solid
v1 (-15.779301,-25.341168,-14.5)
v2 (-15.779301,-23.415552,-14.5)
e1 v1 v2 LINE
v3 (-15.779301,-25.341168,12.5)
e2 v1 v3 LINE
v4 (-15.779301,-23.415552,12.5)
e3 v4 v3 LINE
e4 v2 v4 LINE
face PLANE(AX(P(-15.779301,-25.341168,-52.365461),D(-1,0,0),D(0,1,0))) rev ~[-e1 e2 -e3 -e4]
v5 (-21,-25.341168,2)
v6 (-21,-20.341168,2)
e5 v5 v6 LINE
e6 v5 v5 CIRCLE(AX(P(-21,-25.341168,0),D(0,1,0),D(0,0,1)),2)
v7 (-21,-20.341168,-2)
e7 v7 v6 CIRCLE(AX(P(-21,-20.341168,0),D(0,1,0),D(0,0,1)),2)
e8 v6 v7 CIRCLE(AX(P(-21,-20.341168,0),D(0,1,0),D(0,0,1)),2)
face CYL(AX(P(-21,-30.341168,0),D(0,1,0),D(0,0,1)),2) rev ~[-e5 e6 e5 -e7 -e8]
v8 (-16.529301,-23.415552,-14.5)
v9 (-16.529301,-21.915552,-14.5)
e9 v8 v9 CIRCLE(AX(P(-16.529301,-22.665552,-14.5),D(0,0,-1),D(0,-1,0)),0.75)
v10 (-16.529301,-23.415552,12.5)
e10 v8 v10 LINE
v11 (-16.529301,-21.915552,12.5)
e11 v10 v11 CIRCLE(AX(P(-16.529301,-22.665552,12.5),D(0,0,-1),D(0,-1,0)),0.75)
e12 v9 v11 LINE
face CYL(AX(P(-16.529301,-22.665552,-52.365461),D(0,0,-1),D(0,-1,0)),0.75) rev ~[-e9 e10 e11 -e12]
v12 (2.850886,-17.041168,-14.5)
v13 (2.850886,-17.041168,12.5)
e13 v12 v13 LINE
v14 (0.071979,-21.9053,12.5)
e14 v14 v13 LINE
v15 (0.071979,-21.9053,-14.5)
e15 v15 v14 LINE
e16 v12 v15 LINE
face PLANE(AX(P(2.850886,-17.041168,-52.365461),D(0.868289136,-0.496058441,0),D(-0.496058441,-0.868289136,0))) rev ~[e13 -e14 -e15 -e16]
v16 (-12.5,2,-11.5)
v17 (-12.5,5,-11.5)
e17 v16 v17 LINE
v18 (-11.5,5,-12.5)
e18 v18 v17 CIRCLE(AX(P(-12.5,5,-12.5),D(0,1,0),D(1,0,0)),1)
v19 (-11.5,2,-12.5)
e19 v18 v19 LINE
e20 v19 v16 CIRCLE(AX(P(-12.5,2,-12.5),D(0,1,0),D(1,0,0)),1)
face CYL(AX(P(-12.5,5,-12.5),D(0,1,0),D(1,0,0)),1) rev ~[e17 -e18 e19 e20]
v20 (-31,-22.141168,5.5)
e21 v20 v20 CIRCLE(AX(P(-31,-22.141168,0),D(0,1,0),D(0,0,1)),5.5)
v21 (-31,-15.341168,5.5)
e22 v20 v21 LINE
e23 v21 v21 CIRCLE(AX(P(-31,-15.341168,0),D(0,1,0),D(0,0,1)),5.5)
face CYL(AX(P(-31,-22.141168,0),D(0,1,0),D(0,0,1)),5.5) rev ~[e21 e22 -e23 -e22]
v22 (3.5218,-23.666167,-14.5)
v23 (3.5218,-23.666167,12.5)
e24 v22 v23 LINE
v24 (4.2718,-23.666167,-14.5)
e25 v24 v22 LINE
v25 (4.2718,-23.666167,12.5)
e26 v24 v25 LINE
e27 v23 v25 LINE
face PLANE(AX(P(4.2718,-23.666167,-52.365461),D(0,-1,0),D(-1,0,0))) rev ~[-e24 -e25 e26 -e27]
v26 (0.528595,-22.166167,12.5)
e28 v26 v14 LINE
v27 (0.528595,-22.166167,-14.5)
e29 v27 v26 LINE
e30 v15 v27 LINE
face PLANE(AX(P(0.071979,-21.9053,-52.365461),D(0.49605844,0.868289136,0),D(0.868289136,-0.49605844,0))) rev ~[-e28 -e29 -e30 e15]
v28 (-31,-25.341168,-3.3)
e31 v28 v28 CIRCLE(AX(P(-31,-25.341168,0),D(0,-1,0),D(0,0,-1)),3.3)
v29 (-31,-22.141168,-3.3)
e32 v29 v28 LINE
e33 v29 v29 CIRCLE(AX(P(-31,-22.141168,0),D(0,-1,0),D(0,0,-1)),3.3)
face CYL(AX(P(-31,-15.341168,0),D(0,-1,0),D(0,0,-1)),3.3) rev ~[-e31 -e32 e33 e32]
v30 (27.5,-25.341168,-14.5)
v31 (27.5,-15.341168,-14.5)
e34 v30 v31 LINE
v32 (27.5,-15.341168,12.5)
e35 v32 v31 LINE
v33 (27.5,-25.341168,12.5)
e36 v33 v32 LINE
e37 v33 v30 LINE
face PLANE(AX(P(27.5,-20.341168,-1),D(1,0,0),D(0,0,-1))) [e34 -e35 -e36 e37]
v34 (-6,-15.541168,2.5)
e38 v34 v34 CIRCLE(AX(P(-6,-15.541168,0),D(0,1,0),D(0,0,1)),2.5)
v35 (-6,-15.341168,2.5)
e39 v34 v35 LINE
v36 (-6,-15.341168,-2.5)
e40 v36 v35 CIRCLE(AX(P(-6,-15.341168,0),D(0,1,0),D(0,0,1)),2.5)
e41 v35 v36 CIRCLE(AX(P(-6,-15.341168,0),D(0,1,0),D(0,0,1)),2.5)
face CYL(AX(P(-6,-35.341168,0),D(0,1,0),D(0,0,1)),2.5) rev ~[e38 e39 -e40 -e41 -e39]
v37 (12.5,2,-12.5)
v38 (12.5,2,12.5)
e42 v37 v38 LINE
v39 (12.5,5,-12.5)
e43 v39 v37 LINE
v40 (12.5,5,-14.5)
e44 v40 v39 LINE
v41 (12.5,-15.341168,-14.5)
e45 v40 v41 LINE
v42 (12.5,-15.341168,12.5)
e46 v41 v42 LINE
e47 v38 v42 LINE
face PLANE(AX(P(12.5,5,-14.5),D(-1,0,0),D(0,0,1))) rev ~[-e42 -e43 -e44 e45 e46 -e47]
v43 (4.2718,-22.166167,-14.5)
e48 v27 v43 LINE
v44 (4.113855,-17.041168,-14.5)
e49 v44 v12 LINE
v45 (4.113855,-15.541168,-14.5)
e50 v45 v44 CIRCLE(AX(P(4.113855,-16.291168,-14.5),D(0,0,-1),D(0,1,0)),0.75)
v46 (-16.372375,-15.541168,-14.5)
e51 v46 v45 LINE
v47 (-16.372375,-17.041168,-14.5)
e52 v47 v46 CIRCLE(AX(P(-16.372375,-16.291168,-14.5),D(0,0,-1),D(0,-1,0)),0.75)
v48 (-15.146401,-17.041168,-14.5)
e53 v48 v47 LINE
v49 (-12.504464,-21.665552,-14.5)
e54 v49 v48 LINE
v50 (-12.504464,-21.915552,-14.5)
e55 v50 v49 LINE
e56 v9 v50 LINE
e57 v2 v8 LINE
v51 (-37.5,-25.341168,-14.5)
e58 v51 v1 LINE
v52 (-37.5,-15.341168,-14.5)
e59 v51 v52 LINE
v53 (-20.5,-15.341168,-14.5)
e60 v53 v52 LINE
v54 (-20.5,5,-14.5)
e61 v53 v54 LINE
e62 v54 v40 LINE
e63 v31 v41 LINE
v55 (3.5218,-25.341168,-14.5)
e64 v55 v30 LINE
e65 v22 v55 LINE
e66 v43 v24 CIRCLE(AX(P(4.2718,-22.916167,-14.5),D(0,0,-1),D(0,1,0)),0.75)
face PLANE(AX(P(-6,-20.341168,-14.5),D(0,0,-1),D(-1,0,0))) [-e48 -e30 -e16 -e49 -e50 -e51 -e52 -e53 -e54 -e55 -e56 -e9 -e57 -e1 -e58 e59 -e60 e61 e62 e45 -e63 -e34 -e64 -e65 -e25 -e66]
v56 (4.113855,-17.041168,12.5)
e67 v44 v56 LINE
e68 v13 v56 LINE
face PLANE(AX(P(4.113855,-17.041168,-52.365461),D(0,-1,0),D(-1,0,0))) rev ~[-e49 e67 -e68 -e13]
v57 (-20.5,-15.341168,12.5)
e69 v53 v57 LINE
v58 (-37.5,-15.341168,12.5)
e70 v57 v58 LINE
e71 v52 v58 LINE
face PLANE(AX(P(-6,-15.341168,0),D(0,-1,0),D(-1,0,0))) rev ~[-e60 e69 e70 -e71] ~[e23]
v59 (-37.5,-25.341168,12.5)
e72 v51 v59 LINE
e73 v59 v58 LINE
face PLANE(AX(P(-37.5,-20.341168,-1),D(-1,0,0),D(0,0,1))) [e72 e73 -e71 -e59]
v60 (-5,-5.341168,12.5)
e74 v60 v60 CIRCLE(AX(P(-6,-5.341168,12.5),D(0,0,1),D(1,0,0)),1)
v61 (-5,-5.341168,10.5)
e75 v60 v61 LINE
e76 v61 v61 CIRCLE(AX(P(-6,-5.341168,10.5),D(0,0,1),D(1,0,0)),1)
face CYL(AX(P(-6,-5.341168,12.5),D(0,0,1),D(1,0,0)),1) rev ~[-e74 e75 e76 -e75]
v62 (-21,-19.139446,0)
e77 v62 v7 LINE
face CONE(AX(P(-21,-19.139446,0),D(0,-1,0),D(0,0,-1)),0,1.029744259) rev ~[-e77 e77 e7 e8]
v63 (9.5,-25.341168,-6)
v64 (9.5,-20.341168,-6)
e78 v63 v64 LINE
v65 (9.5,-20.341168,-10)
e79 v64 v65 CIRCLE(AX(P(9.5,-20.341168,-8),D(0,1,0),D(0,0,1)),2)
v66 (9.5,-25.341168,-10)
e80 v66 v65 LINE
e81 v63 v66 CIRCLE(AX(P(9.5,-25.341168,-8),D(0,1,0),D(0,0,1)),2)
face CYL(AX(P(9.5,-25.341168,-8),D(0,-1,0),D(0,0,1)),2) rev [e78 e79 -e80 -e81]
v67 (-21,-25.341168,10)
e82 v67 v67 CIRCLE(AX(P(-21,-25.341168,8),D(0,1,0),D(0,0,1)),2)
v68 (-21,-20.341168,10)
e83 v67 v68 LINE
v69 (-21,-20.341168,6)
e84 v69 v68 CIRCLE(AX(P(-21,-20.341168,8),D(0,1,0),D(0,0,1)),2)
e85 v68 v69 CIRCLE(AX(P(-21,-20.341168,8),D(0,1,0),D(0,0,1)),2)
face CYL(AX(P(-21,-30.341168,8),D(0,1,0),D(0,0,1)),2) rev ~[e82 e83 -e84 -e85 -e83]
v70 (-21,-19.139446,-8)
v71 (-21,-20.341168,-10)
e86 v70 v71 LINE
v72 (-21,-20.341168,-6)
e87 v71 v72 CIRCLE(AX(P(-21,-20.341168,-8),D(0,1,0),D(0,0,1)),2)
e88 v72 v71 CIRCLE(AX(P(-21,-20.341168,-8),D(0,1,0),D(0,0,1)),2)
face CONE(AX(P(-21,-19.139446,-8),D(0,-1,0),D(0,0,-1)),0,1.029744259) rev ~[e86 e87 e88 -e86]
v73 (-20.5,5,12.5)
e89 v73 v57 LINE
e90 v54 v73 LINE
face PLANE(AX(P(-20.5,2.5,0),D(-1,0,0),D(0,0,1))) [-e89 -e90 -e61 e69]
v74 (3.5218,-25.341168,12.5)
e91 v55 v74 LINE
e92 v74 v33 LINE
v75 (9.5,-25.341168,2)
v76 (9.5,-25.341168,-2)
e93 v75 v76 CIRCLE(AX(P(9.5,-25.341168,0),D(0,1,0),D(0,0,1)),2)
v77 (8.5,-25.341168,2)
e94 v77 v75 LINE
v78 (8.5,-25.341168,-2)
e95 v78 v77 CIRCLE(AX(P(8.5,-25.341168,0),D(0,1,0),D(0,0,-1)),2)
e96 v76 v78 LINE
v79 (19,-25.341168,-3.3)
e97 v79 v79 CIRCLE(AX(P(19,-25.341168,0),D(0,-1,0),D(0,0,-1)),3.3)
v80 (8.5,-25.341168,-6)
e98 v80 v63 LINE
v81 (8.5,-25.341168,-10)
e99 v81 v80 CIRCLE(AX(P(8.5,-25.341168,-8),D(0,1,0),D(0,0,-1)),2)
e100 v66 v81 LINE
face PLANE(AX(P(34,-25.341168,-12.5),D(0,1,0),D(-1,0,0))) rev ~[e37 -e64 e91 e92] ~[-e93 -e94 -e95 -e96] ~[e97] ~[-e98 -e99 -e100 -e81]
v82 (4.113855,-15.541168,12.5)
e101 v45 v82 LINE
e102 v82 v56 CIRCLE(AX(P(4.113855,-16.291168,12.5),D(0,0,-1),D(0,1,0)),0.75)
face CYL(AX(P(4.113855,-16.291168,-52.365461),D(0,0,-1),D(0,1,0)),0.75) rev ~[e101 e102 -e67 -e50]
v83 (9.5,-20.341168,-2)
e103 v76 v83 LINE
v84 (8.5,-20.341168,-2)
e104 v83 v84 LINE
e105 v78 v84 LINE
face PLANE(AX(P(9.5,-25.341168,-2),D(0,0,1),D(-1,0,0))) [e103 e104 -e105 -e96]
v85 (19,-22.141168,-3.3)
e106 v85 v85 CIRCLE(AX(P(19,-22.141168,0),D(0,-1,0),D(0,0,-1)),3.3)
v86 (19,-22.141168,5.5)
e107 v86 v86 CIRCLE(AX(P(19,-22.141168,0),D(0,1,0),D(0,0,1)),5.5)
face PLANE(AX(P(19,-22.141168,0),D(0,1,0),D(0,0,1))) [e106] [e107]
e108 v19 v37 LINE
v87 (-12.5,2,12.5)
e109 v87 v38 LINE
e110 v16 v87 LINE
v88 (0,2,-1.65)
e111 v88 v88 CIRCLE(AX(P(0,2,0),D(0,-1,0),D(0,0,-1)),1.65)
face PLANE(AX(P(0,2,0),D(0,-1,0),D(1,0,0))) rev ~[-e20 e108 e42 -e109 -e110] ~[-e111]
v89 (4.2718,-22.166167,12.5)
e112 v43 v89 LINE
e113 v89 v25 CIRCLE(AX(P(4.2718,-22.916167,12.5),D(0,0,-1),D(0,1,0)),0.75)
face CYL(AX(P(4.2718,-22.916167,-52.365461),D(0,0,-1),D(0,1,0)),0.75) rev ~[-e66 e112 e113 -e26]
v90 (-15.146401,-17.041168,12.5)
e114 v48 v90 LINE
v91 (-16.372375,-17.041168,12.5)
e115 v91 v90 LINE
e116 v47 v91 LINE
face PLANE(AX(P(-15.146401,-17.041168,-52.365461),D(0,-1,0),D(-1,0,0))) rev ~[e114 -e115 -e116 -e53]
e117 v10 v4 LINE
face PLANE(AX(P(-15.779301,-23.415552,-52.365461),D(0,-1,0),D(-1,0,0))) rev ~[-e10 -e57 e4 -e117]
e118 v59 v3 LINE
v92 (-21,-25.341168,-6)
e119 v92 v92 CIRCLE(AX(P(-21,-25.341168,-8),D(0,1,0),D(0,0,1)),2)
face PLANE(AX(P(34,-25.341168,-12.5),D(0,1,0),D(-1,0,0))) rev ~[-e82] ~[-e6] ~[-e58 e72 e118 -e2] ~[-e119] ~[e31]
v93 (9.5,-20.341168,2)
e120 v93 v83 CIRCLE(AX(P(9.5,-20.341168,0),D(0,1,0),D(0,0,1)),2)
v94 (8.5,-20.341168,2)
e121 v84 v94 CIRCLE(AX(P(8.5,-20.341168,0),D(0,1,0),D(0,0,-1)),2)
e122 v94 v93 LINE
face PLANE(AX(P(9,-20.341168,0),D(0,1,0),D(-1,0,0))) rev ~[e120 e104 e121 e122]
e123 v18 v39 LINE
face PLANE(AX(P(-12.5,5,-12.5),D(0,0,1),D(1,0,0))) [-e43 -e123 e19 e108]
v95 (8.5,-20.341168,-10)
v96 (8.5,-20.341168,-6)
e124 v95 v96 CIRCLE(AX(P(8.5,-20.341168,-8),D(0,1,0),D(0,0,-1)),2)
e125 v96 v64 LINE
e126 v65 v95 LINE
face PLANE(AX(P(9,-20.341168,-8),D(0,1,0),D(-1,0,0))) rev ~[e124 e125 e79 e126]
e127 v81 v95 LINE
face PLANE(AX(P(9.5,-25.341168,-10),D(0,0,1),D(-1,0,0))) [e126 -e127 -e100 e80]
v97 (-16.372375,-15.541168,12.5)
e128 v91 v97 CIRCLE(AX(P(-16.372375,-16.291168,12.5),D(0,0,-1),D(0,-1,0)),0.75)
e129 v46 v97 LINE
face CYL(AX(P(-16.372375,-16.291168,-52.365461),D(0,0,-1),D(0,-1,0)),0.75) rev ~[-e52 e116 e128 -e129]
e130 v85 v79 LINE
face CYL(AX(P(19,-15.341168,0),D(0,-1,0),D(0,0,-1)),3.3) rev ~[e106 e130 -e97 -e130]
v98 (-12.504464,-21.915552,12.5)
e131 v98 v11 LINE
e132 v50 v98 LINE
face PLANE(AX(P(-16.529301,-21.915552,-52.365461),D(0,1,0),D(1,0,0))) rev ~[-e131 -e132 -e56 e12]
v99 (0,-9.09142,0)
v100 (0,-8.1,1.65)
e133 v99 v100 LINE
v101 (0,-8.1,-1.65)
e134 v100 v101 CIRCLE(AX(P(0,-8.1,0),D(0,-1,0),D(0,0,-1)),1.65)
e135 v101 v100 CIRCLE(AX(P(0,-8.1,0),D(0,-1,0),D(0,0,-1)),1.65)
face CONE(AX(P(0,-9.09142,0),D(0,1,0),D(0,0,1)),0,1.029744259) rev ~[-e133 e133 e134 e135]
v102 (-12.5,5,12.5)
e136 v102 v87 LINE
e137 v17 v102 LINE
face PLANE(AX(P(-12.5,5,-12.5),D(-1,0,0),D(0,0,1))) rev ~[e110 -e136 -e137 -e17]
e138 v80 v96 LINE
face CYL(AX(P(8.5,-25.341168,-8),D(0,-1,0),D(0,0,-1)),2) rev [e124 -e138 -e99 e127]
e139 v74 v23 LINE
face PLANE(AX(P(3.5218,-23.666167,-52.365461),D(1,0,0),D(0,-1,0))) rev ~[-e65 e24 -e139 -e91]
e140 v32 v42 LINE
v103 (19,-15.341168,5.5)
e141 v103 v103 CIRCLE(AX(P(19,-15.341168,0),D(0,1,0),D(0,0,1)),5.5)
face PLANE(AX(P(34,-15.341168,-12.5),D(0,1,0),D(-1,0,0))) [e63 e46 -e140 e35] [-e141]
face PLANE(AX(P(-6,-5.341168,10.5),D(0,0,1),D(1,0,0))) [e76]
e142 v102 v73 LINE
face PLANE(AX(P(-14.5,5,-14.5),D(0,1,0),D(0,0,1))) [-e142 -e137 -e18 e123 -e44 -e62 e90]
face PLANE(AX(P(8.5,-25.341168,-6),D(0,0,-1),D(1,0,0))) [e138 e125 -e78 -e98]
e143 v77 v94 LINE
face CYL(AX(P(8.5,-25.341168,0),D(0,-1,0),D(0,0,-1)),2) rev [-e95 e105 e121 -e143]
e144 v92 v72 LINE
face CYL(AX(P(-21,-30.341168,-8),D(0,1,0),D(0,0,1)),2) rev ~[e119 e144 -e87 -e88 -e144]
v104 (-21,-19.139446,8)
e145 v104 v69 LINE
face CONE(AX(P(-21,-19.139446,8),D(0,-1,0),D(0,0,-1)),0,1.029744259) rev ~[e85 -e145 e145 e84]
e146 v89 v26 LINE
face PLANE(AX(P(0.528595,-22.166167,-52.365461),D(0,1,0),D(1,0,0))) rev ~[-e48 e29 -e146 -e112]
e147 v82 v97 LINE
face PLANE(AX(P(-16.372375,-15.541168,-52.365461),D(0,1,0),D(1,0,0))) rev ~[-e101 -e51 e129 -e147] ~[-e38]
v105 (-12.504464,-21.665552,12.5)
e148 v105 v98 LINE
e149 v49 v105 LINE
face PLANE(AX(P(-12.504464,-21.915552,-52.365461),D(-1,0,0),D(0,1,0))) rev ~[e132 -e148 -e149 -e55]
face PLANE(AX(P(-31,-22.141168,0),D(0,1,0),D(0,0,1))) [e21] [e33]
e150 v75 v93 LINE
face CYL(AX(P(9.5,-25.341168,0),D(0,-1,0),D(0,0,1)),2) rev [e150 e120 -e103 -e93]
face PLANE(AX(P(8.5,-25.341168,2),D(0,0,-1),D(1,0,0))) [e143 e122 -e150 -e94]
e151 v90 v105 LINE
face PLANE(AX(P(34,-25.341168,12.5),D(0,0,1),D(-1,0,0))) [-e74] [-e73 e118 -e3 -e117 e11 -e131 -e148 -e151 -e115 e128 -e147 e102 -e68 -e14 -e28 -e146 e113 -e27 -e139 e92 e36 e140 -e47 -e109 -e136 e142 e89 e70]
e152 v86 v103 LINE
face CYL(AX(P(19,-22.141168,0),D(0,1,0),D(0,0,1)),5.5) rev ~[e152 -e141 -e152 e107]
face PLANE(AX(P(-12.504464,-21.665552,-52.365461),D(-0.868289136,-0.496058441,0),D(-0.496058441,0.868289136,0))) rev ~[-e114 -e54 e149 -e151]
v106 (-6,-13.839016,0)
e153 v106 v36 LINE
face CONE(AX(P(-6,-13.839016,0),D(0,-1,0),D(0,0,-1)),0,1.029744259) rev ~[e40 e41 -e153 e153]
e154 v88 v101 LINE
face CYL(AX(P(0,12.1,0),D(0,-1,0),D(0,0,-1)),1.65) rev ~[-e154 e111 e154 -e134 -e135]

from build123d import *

# Parameters (mm, degrees)
SKETCH_1_W                = 29
SKETCH_1_H                = 29
EXTRUDE_1_DEPTH           = 5
SKETCH_2_W                = 25
SKETCH_2_H                = 25
CUT_EXTRUDE_1_DEPTH       = 3
SKETCH_3_W                = 35
SKETCH_3_H                = 29
EXTRUDE_756_DEPTH         = 25.341167732
HOLE_WIZARD_M4_1_D        = 3.3
HOLE_WIZARD_M4_1_DEPTH    = 10.1
HOLE_WIZARD_M4_1_TIP      = 0.991420021
SKETCH_9_R                = 1
CUT_EXTRUDE_2_DEPTH       = 3
SKETCH_11_W               = 29
SKETCH_11_H               = 5
EXTRUDE_4_DEPTH           = 6
CUT_EXTRUDE_8_DEPTH       = 40.383835
SKETCH_19_W               = 80
SKETCH_19_H               = 25
EXTRUDE_5_DEPTH           = 10
HOLE_WIZARD_1_D           = 6.6
HOLE_WIZARD_1_DEPTH       = 10.1
HOLE_WIZARD_1_CBORE_D     = 11
HOLE_WIZARD_1_CBORE_DEPTH = 6.8
HOLE_WIZARD_1_TIP         = 1.982840043
SKETCH_23_W               = 80
SKETCH_23_H               = 10
EXTRUDE_6_DEPTH           = 2
SKETCH_24_W               = 27
SKETCH_24_H               = 10
CUT_EXTRUDE_9_DEPTH       = 2
MM_1_D                    = 4
MM_1_DEPTH                = 5
MM_1_TIP                  = 1.201721238
CUT_EXTRUDE_10_DEPTH      = 5
SKETCH_28_R               = 1
CUT_EXTRUDE_11_DEPTH      = 2
HOLE_WIZARD_M6_1_D        = 5
HOLE_WIZARD_M6_1_DEPTH    = 10
HOLE_WIZARD_M6_1_TIP      = 1.502151548
CUT_EXTRUDE_12_DEPTH      = 62.837260656
CUT_EXTRUDE_12_DEPTH_BACK = 62.837260656
SKETCH_32_W               = 27
SKETCH_32_H               = 10
CUT_EXTRUDE_13_DEPTH      = 6.5
SKETCH_33_W               = 27
SKETCH_33_H               = 10
CUT_EXTRUDE_14_DEPTH      = 6.5
CUT_EXTRUDE_15_DEPTH      = 5
MM_2_D                    = 4
MM_2_DEPTH                = 5
MM_2_TIP                  = 1.201721238
MM_3_D                    = 4
MM_3_DEPTH                = 5
MM_3_TIP                  = 1.201721238


with BuildPart() as part:
    # 草图1 → 凸台-拉伸1 (new body)
    with BuildSketch(Plane(origin=(0, 0, 0), x_dir=(1, 0, 0), z_dir=(0, 1, 0))):
        Rectangle(SKETCH_1_W, SKETCH_1_H)
    extrude(amount=EXTRUDE_1_DEPTH)

    # 草图2 → 切除-拉伸1 (cut)
    with BuildSketch(Plane.XZ.offset(-5)):
        Rectangle(SKETCH_2_W, SKETCH_2_H)
    extrude(amount=CUT_EXTRUDE_1_DEPTH, mode=Mode.SUBTRACT)

    # 草图3 → Extrude 756 (add)
    with BuildSketch(Plane(origin=(0, 0, 0), x_dir=(-1, 0, 0), z_dir=(0, -1, 0))):
        with Locations((3, 0)):
            Rectangle(SKETCH_3_W, SKETCH_3_H)
    extrude(amount=EXTRUDE_756_DEPTH)

    # M4 螺纹孔1
    with Locations(Plane.ZX.offset(2)):
        with Locations((0, 0)):
            Hole(HOLE_WIZARD_M4_1_D / 2, depth=HOLE_WIZARD_M4_1_DEPTH)
            with Locations((0, 0, -(HOLE_WIZARD_M4_1_DEPTH + HOLE_WIZARD_M4_1_TIP / 2))):  # 118° drill point
                Cone(0, HOLE_WIZARD_M4_1_D / 2, HOLE_WIZARD_M4_1_TIP, mode=Mode.SUBTRACT)

    # 草图9 → 切除-拉伸2 (cut)
    with BuildSketch(Plane(origin=(0, 5, 0), x_dir=(1, 0, 0), z_dir=(0, 1, 0))):
        with Locations((-12.5, 12.5)):
            Circle(SKETCH_9_R)
    extrude(amount=-CUT_EXTRUDE_2_DEPTH, mode=Mode.SUBTRACT)

    # 草图11 → 凸台-拉伸4 (add)
    with BuildSketch(Plane.ZY.offset(14.5)):
        with Locations((0, 2.5)):
            Rectangle(SKETCH_11_W, SKETCH_11_H)
    extrude(amount=EXTRUDE_4_DEPTH)

    # 草图17 → 切除-拉伸8 (cut, through all)
    with BuildSketch(Plane(origin=(0, 5, 0), x_dir=(1, 0, 0), z_dir=(0, 1, 0))):
        Polygon((-20.5, -14.5), (14.5, -14.5), (14.5, 14.5), (12.5, 14.5), (12.5, -12.5), (-20.5, -12.5), align=None)
    extrude(amount=-CUT_EXTRUDE_8_DEPTH, mode=Mode.SUBTRACT)

    # 草图19 → 凸台-拉伸5 (add)
    with BuildSketch(Plane(origin=(0, -25.341167732, 0), x_dir=(-1, 0, 0), z_dir=(0, -1, 0))):
        with Locations((6, 0)):
            Rectangle(SKETCH_19_W, SKETCH_19_H)
    extrude(amount=-EXTRUDE_5_DEPTH)

    # 打孔尺寸(%根据)内六角圆柱头螺钉的类型1
    with Locations(Plane(origin=(-31, -15.341167732, 0), x_dir=(0, 0, 1), z_dir=(0, 1, 0))):
        with Locations((0, 0), (0, 50)):
            CounterBoreHole(HOLE_WIZARD_1_D / 2, HOLE_WIZARD_1_CBORE_D / 2, HOLE_WIZARD_1_CBORE_DEPTH, depth=HOLE_WIZARD_1_DEPTH)
            with Locations((0, 0, -(HOLE_WIZARD_1_DEPTH + HOLE_WIZARD_1_TIP / 2))):  # 118° drill point
                Cone(0, HOLE_WIZARD_1_D / 2, HOLE_WIZARD_1_TIP, mode=Mode.SUBTRACT)

    # 草图23 → 凸台-拉伸6 (add)
    with BuildSketch(Plane(origin=(0, 0, -12.5), x_dir=(-1, 0, 0), z_dir=(0, 0, -1))):
        with Locations((6, -20.341167732)):
            Rectangle(SKETCH_23_W, SKETCH_23_H)
    extrude(amount=EXTRUDE_6_DEPTH)

    # 草图24 → 切除-拉伸9 (cut)
    with BuildSketch(Plane.ZY.offset(46)):
        with Locations((-1, -20.341167732)):
            Rectangle(SKETCH_24_W, SKETCH_24_H)
    extrude(amount=-CUT_EXTRUDE_9_DEPTH, mode=Mode.SUBTRACT)

    # 大小mm 暗销孔1
    with Locations(Plane(origin=(-21, -25.341167732, 0), x_dir=(0, 0, -1), z_dir=(0, -1, 0))):
        with Locations((0, 0)):
            Hole(MM_1_D / 2, depth=MM_1_DEPTH)
            with Locations((0, 0, -(MM_1_DEPTH + MM_1_TIP / 2))):  # 118° drill point
                Cone(0, MM_1_D / 2, MM_1_TIP, mode=Mode.SUBTRACT)

    # 草图27 → 切除-拉伸10 (cut)
    with BuildSketch(Plane.XZ.offset(25.341167732)):
        with BuildLine():
            Line((8.5, 2), (9.5, 2))
            ThreePointArc((9.5, 2), (11.5, 0), (9.5, -2))
            Line((9.5, -2), (8.5, -2))
            ThreePointArc((8.5, -2), (6.5, 0), (8.5, 2))
        make_face()
    extrude(amount=-CUT_EXTRUDE_10_DEPTH, mode=Mode.SUBTRACT)

    # 草图28 → 切除-拉伸11 (cut)
    with BuildSketch(Plane.XY.offset(12.5)):
        with Locations((-6, -5.341167732)):
            Circle(SKETCH_28_R)
    extrude(amount=-CUT_EXTRUDE_11_DEPTH, mode=Mode.SUBTRACT)

    # M6 螺纹孔1
    with Locations(Plane(origin=(-6, -25.341167732, 0), x_dir=(0, 0, -1), z_dir=(0, -1, 0))):
        with Locations((0, 0)):
            Hole(HOLE_WIZARD_M6_1_D / 2, depth=HOLE_WIZARD_M6_1_DEPTH)
            with Locations((0, 0, -(HOLE_WIZARD_M6_1_DEPTH + HOLE_WIZARD_M6_1_TIP / 2))):  # 118° drill point
                Cone(0, HOLE_WIZARD_M6_1_D / 2, HOLE_WIZARD_M6_1_TIP, mode=Mode.SUBTRACT)

    # 草图31 → 切除-拉伸12 (cut, two sides: drawn at the far end of the back side and taken through both)
    with BuildSketch(Plane(origin=(-6.0032, 14.658832268, 10.4718), x_dir=(1, 0, 0), z_dir=(0, 0, 1)).offset(-CUT_EXTRUDE_12_DEPTH_BACK)):
        with BuildLine():
            Line((10.117055245, -31.7), (8.854085532, -31.7))
            Line((8.854085532, -31.7), (6.07517942, -36.564132504))
            Line((6.07517942, -36.564132504), (6.531795149, -36.824999624))
            Line((6.531795149, -36.824999624), (10.275, -36.824999624))
            ThreePointArc((10.275, -36.824999624), (11.025, -37.574999624), (10.275, -38.324999624))
            Line((10.275, -38.324999624), (9.525, -38.324999624))
            Line((9.525, -38.324999624), (9.525, -40))
            Line((9.525, -40), (-9.776101272, -40))
            Line((-9.776101272, -40), (-9.776101272, -38.074384714))
            Line((-9.776101272, -38.074384714), (-10.526101272, -38.074384714))
            ThreePointArc((-10.526101272, -38.074384714), (-11.276101272, -37.324384714), (-10.526101272, -36.574384714))
            Line((-10.526101272, -36.574384714), (-6.501264425, -36.574384714))
            Line((-6.501264425, -36.574384714), (-6.501264425, -36.324384714))
            Line((-6.501264425, -36.324384714), (-9.143201284, -31.7))
            Line((-9.143201284, -31.7), (-10.369175052, -31.7))
            ThreePointArc((-10.369175052, -31.7), (-11.119175052, -30.95), (-10.369175052, -30.2))
            Line((-10.369175052, -30.2), (10.117055245, -30.2))
            ThreePointArc((10.117055245, -30.2), (10.867055245, -30.95), (10.117055245, -31.7))
        make_face()
    extrude(amount=CUT_EXTRUDE_12_DEPTH + CUT_EXTRUDE_12_DEPTH_BACK, mode=Mode.SUBTRACT)

    # 草图32 → 切除-拉伸13 (cut)
    with BuildSketch(Plane.ZY.offset(44)):
        with Locations((-1, -20.341167732)):
            Rectangle(SKETCH_32_W, SKETCH_32_H)
    extrude(amount=-CUT_EXTRUDE_13_DEPTH, mode=Mode.SUBTRACT)

    # 草图33 → 切除-拉伸14 (cut)
    with BuildSketch(Plane(origin=(34, 0, 0), x_dir=(0, 0, -1), z_dir=(1, 0, 0))):
        with Locations((1, -20.341167732)):
            Rectangle(SKETCH_33_W, SKETCH_33_H)
    extrude(amount=-CUT_EXTRUDE_14_DEPTH, mode=Mode.SUBTRACT)

    # 草图35 → 切除-拉伸15 (cut)
    with BuildSketch(Plane.XZ.offset(25.341167732)):
        with BuildLine():
            Line((8.5, -6), (9.5, -6))
            ThreePointArc((9.5, -6), (11.5, -8), (9.5, -10))
            Line((9.5, -10), (8.5, -10))
            ThreePointArc((8.5, -10), (6.5, -8), (8.5, -6))
        make_face()
    extrude(amount=-CUT_EXTRUDE_15_DEPTH, mode=Mode.SUBTRACT)

    # 大小mm 暗销孔2
    with Locations(Plane(origin=(-21, -25.341167732, -8), x_dir=(0, 0, -1), z_dir=(0, -1, 0))):
        with Locations((0, 0)):
            Hole(MM_2_D / 2, depth=MM_2_DEPTH)
            with Locations((0, 0, -(MM_2_DEPTH + MM_2_TIP / 2))):  # 118° drill point
                Cone(0, MM_2_D / 2, MM_2_TIP, mode=Mode.SUBTRACT)

    # 大小mm 暗销孔3
    with Locations(Plane(origin=(-21, -25.341167732, 8), x_dir=(0, 0, -1), z_dir=(0, -1, 0))):
        with Locations((0, 0)):
            Hole(MM_3_D / 2, depth=MM_3_DEPTH)
            with Locations((0, 0, -(MM_3_DEPTH + MM_3_TIP / 2))):  # 118° drill point
                Cone(0, MM_3_D / 2, MM_3_TIP, mode=Mode.SUBTRACT)


solid = part.part
